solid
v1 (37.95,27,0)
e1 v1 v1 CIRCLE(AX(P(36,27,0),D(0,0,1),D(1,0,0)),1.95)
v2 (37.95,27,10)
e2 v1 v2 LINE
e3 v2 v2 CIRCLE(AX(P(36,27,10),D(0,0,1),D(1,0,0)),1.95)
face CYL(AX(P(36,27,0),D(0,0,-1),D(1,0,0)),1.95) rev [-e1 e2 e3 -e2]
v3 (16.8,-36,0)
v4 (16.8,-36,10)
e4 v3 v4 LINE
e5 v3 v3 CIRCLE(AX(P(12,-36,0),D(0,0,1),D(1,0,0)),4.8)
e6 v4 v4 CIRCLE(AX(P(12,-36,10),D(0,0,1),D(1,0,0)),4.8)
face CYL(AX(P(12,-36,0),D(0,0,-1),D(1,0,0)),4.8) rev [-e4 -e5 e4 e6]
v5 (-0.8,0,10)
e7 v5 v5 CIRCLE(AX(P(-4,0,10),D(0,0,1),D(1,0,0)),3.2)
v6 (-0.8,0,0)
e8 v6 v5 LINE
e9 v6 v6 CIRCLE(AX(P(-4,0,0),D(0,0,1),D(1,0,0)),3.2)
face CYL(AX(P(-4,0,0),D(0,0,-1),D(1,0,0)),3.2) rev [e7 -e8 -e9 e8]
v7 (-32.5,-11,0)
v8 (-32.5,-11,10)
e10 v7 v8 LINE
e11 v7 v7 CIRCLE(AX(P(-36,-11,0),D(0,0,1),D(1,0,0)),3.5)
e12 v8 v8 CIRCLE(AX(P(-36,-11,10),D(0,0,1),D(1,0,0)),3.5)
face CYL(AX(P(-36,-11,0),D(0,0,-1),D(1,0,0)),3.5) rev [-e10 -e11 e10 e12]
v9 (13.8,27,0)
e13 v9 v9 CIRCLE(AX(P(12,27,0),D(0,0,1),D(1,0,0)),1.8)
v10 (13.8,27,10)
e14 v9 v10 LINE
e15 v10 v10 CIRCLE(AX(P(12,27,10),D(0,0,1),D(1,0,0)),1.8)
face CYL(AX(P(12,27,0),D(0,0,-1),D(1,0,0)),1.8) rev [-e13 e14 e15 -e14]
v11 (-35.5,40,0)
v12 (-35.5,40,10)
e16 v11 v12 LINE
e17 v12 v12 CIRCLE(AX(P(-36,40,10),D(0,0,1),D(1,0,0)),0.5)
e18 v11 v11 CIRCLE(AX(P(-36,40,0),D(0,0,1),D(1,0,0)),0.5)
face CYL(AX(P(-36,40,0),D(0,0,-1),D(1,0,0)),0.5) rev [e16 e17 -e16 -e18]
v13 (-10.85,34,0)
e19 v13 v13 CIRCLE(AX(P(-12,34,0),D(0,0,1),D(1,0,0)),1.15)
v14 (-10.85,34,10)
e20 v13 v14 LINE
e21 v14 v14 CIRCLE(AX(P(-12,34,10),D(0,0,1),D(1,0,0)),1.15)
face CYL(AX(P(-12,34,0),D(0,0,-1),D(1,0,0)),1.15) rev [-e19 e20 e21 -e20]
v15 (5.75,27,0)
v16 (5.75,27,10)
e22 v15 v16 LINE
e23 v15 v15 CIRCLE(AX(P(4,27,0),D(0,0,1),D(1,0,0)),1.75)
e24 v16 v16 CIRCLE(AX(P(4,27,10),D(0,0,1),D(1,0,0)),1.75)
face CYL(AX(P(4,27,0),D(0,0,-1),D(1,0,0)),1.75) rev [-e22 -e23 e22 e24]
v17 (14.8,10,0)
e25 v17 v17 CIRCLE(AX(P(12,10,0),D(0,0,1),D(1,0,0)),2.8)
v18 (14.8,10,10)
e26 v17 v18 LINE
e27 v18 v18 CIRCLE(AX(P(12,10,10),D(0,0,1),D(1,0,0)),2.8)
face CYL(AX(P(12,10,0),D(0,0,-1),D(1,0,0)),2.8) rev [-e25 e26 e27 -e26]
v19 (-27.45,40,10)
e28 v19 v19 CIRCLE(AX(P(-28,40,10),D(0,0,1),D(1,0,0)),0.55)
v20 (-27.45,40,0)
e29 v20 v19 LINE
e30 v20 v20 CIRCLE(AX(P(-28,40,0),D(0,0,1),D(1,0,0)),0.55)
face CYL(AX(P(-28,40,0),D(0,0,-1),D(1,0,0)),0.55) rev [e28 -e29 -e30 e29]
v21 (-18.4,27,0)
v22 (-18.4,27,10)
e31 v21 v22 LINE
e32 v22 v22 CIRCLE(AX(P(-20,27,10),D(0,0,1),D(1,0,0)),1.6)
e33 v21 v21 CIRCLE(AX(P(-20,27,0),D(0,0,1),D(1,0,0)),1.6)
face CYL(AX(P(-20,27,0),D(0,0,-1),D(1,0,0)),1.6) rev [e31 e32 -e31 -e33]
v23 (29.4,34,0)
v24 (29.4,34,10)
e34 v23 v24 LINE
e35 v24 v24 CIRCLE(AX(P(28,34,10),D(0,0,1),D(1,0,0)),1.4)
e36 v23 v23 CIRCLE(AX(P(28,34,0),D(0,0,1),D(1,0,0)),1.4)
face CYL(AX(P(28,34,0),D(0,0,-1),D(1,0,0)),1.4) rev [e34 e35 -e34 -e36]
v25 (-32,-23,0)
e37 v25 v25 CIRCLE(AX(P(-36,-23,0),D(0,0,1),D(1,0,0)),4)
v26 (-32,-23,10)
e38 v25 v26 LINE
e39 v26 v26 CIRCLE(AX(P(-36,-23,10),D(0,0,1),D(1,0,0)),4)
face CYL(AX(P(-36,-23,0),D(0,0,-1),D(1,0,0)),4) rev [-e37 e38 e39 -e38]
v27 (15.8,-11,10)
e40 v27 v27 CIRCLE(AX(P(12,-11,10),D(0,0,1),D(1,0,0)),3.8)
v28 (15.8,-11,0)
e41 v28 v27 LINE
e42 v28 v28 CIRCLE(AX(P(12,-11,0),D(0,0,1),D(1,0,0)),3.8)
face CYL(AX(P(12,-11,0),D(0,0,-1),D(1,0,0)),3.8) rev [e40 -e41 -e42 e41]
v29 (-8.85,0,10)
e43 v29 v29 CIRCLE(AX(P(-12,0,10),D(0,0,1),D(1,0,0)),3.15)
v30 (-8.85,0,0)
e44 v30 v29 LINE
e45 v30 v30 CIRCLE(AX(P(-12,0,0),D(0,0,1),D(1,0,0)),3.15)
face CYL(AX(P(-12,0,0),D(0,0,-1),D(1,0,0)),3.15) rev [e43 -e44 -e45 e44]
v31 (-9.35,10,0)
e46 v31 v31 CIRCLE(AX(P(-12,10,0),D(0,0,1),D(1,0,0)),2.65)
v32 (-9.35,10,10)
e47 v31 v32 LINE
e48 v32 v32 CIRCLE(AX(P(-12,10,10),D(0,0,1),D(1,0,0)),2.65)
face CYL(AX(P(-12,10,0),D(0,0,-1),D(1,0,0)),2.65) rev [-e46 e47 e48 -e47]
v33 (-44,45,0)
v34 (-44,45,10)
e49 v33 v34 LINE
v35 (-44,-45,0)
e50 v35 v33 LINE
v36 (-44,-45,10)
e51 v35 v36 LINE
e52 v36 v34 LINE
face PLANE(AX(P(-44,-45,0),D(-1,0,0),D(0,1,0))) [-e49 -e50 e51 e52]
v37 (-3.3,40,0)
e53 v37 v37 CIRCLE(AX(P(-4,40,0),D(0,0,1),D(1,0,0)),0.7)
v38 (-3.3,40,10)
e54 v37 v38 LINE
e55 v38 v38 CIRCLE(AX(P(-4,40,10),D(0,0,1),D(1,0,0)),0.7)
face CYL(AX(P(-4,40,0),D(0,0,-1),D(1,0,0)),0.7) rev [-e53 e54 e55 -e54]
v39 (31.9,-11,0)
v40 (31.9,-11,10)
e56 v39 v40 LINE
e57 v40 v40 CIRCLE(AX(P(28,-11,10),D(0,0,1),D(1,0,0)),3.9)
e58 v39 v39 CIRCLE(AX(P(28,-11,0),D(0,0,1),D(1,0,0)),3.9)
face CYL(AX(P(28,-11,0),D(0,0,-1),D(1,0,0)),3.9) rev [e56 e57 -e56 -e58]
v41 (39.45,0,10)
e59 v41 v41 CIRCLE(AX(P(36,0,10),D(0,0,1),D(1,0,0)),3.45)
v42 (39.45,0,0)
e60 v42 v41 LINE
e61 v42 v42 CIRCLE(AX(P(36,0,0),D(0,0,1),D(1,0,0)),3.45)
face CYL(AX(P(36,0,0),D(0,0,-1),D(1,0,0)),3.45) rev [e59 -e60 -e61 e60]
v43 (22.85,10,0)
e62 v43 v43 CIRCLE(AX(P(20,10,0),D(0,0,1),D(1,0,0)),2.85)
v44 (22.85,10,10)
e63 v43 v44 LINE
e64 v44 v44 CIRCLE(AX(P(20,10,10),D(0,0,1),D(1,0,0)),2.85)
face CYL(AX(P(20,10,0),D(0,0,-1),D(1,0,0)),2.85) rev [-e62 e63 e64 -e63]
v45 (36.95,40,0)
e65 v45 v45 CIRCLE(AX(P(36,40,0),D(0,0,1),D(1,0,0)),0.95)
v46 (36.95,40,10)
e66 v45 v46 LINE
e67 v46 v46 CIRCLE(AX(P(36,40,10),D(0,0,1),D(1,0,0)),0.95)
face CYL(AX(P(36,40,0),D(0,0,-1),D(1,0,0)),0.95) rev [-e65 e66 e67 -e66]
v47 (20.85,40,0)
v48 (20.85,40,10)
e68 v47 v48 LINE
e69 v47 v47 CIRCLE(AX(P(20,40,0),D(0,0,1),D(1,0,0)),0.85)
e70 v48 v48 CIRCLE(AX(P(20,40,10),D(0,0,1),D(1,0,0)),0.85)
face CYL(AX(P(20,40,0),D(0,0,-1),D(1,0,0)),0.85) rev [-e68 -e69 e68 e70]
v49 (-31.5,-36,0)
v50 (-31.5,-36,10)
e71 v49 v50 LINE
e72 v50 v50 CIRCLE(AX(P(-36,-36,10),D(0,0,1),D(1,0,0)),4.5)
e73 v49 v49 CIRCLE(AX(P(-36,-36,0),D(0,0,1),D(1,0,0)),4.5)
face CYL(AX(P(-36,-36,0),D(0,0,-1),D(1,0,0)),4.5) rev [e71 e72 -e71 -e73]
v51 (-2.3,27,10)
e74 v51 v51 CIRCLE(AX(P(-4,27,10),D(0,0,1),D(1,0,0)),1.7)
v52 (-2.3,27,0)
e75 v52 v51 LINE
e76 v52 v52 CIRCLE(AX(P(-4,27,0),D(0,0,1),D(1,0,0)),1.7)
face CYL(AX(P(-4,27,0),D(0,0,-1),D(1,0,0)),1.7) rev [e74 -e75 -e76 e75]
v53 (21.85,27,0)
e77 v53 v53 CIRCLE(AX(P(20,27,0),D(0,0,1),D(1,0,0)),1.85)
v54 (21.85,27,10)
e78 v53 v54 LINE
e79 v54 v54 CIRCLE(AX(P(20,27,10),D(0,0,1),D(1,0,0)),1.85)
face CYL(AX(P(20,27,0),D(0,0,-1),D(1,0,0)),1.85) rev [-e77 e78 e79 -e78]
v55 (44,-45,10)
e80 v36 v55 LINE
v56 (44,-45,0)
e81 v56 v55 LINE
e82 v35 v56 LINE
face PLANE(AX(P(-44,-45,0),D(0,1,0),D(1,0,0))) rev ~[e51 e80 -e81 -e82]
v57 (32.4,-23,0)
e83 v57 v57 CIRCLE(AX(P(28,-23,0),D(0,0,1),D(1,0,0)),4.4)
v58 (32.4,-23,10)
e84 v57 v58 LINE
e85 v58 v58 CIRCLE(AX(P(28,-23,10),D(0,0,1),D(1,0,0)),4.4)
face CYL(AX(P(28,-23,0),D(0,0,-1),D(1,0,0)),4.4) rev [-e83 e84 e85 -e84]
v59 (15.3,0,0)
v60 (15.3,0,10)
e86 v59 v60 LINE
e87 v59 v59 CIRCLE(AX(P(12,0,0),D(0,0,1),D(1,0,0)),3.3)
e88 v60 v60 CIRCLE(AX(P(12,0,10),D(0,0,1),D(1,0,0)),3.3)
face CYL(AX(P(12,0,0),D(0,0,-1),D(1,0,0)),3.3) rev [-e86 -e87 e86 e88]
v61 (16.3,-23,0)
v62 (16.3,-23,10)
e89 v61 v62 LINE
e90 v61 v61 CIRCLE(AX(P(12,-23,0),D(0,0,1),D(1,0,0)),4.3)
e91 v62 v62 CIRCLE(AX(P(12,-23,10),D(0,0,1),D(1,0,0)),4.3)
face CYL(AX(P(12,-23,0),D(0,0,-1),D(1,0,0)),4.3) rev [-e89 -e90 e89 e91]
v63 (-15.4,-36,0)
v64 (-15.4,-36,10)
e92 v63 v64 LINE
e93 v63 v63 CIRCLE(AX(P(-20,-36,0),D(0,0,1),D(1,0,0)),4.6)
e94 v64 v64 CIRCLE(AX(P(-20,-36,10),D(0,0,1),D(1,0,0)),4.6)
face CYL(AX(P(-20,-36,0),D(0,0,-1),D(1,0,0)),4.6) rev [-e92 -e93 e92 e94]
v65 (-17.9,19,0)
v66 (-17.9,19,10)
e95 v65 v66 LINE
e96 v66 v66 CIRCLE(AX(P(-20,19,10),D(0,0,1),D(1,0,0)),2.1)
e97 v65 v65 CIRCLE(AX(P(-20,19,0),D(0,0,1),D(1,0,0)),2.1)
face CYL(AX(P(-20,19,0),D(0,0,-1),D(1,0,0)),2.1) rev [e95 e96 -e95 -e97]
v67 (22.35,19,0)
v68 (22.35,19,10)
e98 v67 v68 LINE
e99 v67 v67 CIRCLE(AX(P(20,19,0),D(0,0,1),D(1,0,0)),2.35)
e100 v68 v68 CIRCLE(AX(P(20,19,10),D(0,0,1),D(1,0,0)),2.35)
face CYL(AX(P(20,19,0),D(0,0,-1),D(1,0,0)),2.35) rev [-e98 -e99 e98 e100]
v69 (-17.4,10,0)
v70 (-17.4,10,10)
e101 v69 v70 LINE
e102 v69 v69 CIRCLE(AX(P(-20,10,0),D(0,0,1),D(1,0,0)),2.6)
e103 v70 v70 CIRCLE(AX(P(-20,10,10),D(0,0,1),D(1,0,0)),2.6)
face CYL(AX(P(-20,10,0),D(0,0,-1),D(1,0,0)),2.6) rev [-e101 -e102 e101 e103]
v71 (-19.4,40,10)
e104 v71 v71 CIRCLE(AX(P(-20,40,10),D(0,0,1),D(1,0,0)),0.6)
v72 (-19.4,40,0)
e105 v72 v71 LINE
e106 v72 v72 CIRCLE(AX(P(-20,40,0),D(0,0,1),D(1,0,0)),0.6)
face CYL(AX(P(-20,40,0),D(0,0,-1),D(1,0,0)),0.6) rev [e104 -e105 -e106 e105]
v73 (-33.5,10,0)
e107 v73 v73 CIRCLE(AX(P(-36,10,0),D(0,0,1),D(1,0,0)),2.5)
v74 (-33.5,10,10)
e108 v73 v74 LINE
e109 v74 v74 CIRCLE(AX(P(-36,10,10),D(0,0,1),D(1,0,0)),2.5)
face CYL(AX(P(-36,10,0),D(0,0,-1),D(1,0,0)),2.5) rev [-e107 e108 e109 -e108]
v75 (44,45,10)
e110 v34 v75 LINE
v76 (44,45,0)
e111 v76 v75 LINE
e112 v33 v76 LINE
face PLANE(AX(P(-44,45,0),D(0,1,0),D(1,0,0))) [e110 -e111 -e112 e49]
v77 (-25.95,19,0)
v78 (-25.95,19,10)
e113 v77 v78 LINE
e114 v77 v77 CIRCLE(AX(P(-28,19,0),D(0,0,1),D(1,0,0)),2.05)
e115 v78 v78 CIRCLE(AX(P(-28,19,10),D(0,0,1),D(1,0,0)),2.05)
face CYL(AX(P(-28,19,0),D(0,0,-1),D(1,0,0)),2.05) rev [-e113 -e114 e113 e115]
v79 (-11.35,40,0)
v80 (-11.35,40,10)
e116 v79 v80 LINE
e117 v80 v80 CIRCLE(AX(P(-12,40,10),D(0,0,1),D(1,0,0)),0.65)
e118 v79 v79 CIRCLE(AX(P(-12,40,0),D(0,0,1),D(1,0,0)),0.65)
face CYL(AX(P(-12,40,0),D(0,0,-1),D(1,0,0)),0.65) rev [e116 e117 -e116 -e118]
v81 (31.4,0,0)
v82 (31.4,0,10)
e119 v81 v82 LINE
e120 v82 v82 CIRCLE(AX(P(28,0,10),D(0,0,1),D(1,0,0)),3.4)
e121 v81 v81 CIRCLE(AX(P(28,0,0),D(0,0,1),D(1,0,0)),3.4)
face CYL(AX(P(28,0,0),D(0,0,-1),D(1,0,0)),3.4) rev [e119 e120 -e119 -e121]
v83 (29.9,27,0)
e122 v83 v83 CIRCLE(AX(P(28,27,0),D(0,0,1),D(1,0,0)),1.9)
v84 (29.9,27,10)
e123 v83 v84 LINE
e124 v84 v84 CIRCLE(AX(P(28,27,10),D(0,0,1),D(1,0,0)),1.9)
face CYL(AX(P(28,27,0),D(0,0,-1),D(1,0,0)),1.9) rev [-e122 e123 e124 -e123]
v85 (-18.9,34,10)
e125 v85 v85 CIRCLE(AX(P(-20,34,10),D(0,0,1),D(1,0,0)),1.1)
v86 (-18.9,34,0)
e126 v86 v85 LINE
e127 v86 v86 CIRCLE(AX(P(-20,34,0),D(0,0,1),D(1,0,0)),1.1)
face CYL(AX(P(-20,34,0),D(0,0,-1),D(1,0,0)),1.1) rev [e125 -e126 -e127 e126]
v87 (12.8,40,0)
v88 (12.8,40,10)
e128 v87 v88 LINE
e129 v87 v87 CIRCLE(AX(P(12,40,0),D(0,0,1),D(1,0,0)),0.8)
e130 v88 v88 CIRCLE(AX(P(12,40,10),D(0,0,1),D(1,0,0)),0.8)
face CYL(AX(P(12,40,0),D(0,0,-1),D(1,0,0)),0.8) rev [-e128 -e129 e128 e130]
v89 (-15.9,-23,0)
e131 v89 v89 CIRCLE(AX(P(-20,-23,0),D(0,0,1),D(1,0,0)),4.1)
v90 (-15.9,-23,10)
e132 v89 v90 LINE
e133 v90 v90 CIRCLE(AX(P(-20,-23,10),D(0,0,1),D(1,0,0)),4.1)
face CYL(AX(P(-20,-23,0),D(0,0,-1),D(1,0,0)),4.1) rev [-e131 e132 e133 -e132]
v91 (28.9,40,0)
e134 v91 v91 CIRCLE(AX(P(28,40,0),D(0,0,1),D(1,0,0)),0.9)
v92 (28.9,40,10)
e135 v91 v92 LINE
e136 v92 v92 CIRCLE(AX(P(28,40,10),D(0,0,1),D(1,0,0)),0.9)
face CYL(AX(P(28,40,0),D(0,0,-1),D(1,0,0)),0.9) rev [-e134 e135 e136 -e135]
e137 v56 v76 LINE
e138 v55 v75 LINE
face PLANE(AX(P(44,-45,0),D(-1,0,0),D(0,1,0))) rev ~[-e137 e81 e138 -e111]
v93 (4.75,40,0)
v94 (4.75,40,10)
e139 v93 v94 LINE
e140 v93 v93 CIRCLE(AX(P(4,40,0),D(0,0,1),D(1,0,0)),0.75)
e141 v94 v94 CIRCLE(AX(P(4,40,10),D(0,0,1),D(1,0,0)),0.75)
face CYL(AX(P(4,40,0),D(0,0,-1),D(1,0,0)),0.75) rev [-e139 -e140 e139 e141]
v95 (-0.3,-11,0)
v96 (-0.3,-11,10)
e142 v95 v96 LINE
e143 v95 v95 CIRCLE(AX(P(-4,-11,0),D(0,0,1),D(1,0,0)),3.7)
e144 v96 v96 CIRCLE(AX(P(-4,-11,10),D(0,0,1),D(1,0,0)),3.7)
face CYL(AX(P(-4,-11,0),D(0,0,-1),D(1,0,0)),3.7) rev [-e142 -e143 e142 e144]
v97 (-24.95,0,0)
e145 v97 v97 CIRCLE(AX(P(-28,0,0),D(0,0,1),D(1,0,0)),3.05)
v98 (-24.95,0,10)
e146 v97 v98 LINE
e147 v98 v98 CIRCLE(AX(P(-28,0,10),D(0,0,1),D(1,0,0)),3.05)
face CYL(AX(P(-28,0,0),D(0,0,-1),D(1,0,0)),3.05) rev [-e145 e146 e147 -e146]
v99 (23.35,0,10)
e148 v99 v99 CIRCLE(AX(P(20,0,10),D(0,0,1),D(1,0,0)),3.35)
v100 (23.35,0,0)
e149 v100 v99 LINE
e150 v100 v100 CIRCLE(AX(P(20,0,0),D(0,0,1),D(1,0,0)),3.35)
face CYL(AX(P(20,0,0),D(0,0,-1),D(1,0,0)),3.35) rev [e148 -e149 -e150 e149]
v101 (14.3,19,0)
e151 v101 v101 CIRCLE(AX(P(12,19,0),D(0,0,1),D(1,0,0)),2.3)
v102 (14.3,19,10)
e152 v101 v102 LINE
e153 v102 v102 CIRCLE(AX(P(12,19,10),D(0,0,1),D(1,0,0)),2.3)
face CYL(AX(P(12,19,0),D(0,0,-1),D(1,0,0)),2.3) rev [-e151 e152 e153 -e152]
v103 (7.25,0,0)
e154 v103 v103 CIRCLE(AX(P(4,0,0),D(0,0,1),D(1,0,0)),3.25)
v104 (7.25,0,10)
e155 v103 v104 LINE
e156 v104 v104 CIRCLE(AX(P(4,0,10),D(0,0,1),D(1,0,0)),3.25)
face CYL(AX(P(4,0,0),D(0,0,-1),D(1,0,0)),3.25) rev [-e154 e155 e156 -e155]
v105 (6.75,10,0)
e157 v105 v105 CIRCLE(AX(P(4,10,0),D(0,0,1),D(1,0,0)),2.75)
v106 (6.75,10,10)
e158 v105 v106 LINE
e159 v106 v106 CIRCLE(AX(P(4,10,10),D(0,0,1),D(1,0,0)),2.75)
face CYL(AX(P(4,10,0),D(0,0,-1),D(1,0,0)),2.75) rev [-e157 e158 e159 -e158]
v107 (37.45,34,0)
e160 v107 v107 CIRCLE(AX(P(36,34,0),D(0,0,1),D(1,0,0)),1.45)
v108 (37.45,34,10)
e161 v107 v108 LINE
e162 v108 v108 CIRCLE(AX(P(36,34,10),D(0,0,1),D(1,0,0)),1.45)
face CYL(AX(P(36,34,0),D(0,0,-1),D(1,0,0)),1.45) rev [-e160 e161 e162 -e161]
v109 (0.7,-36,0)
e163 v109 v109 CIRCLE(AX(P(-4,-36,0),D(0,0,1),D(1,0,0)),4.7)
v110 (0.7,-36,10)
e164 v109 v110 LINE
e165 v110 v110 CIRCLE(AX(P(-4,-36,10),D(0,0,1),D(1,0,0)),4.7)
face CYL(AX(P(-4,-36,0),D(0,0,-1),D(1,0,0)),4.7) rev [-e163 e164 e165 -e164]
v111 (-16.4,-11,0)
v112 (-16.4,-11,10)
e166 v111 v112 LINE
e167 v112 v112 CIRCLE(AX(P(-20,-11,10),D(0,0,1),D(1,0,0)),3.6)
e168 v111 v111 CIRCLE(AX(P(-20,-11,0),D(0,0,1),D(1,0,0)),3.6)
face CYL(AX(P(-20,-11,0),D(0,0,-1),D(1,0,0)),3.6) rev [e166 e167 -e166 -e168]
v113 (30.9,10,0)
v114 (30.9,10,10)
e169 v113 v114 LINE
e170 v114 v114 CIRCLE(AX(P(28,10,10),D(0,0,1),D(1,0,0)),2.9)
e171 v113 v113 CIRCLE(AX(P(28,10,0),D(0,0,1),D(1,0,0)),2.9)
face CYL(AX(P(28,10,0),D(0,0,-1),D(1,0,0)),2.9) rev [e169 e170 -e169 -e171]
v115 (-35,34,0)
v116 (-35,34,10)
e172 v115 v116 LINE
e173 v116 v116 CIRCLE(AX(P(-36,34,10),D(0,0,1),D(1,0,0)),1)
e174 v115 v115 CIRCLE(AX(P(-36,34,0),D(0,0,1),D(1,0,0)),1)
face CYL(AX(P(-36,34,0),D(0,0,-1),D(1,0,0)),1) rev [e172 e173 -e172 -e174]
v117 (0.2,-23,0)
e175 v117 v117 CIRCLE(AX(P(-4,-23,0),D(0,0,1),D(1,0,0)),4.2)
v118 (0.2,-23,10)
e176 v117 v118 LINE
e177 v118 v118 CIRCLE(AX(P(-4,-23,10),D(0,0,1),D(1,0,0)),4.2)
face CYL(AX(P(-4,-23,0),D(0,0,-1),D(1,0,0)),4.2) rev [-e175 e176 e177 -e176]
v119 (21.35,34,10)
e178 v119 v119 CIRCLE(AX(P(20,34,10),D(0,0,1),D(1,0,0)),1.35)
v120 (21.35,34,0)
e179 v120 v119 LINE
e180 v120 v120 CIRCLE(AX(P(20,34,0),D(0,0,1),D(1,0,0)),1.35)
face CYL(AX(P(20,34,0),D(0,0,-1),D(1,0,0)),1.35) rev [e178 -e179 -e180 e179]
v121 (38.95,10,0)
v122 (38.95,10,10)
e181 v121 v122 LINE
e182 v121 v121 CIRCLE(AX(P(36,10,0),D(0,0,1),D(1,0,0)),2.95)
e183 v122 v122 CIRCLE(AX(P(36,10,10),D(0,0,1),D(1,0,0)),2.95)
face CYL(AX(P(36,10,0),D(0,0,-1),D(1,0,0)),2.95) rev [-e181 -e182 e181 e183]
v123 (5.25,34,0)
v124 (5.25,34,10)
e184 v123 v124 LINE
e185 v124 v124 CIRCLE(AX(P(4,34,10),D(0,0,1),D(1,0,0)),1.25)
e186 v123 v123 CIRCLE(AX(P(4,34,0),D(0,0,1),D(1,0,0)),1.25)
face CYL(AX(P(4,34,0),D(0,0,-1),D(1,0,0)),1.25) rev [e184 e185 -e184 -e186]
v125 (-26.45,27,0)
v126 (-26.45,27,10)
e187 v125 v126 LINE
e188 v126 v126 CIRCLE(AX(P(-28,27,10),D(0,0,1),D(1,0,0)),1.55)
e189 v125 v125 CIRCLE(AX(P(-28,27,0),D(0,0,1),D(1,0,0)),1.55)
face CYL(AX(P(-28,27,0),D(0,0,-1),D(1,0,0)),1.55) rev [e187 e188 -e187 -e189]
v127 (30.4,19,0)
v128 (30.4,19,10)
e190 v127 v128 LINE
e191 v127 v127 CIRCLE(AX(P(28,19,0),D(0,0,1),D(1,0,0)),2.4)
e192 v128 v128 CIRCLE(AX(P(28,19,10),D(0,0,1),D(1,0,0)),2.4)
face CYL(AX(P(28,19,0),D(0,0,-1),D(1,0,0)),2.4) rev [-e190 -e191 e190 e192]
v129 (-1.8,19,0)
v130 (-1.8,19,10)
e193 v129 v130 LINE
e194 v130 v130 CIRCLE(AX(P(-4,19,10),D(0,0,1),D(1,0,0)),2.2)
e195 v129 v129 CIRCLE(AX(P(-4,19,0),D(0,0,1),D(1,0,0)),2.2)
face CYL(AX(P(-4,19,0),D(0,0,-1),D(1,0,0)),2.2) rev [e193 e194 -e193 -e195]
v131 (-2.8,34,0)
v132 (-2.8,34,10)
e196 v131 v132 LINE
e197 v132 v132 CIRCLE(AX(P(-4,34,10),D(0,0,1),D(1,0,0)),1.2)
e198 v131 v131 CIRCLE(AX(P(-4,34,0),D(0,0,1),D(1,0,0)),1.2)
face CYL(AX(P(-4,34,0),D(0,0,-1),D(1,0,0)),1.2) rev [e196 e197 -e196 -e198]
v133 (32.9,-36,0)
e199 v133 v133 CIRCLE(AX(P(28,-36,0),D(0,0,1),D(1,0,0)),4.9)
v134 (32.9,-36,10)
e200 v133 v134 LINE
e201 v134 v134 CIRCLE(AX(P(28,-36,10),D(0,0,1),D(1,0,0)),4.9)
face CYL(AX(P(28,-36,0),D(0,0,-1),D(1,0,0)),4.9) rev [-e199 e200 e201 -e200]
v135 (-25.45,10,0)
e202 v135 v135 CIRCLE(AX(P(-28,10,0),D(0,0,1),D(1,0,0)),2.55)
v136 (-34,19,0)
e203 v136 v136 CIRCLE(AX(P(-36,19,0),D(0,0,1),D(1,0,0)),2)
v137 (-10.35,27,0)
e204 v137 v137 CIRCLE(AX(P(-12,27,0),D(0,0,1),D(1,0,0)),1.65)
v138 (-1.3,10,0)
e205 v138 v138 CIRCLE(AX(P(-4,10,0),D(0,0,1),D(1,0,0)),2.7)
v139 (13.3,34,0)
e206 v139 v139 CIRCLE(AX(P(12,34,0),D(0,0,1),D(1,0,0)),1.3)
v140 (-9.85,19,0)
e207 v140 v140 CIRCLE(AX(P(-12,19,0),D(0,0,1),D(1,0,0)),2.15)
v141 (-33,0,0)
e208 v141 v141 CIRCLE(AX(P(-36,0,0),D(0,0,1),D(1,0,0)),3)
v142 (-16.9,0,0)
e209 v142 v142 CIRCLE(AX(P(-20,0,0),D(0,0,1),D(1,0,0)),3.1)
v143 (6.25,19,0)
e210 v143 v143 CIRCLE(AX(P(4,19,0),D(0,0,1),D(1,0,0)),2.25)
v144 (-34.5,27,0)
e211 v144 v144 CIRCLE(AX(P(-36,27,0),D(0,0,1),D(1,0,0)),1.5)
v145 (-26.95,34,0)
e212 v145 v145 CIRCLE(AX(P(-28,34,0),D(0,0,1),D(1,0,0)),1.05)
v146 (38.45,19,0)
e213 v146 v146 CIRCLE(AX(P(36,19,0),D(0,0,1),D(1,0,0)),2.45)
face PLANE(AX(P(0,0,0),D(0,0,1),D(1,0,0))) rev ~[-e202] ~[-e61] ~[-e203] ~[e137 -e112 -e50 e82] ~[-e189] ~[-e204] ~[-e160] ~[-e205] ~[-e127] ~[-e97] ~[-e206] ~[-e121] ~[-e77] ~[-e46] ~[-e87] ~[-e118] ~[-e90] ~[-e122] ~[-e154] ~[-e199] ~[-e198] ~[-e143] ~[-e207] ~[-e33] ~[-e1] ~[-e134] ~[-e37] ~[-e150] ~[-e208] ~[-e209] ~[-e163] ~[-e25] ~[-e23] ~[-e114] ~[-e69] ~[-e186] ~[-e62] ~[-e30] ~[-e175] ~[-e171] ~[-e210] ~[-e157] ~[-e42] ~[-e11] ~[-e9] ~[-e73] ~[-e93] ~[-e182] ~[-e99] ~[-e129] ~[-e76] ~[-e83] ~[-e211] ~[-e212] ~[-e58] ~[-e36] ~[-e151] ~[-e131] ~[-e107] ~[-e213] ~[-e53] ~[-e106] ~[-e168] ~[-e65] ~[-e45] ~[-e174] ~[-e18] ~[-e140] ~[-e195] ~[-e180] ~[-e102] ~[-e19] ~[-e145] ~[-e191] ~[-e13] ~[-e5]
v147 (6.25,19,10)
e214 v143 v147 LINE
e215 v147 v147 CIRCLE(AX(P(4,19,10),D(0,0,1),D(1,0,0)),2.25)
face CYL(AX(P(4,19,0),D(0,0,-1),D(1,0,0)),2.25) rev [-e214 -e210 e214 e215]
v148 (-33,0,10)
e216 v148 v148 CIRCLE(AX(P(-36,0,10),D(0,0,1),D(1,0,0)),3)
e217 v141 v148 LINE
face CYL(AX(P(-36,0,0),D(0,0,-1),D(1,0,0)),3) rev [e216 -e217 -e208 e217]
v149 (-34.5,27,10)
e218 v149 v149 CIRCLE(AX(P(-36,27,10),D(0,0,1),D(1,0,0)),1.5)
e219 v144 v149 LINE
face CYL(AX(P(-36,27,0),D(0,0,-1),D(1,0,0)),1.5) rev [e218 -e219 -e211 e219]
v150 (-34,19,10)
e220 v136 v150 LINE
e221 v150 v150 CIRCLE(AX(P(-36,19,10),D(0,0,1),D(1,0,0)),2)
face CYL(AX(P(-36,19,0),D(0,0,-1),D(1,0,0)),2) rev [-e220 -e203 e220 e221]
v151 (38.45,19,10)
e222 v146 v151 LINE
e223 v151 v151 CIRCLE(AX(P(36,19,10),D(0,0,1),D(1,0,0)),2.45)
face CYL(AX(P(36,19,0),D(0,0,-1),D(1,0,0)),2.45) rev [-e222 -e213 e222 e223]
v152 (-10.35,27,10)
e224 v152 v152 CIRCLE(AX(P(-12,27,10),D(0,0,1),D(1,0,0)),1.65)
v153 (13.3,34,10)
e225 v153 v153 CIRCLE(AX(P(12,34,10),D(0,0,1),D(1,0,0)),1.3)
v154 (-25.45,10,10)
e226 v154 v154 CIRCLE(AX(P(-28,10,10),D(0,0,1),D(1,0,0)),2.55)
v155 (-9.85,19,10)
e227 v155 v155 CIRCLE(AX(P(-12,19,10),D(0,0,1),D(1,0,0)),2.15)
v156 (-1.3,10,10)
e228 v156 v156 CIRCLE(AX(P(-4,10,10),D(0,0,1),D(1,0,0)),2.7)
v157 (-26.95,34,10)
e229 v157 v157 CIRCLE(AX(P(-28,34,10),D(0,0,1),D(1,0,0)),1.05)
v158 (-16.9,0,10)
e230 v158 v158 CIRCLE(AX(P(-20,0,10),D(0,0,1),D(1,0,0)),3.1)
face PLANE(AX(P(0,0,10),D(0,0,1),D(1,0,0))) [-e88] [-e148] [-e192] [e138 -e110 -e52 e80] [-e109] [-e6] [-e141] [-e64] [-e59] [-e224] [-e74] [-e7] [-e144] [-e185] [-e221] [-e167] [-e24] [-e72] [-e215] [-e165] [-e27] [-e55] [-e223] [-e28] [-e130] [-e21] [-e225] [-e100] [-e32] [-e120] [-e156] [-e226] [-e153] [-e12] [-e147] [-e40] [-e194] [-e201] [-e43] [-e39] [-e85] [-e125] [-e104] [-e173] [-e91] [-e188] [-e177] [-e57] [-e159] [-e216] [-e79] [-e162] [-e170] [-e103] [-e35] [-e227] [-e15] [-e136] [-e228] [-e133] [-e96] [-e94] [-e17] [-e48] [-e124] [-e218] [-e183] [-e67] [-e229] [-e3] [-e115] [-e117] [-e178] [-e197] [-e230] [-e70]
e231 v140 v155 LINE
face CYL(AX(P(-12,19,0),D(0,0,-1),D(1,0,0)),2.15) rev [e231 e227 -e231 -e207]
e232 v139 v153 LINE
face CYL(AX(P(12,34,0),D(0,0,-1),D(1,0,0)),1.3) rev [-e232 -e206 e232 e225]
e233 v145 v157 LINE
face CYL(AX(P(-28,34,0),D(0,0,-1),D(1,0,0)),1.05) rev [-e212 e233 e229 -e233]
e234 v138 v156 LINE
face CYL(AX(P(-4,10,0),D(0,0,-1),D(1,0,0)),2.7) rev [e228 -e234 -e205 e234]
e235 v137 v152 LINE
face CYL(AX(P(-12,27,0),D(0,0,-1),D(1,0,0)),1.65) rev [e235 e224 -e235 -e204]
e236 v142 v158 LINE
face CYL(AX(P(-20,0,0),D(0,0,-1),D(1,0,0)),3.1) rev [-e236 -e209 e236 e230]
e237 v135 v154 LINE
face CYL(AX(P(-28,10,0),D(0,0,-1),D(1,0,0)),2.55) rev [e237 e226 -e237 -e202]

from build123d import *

# Parameters (mm, degrees)
F0_W     = 88
F0_H     = 90
F0_R     = 4.5
F0_R_2   = 4
F0_R_3   = 4.6
F0_R_4   = 4.7
F0_R_5   = 4.1
F0_R_6   = 4.2
F0_R_7   = 3.5
F0_R_8   = 3.6
F0_R_9   = 3.7
F0_R_10  = 4.8
F0_R_11  = 4.3
F0_R_12  = 4.9
F0_R_13  = 4.4
F0_R_14  = 3.8
F0_R_15  = 3.9
F0_R_16  = 3
F0_R_17  = 2.5
F0_R_18  = 3.05
F0_R_19  = 2.55
F0_R_20  = 2
F0_R_21  = 2.05
F0_R_22  = 3.1
F0_R_23  = 3.15
F0_R_24  = 2.6
F0_R_25  = 2.65
F0_R_26  = 3.2
F0_R_27  = 2.7
F0_R_28  = 2.1
F0_R_29  = 2.15
F0_R_30  = 2.2
F0_R_31  = 1.5
F0_R_32  = 1.55
F0_R_33  = 1
F0_R_34  = 0.5
F0_R_35  = 1.05
F0_R_36  = 0.55
F0_R_37  = 1.6
F0_R_38  = 1.65
F0_R_39  = 1.7
F0_R_40  = 1.1
F0_R_41  = 1.15
F0_R_42  = 0.6
F0_R_43  = 0.65
F0_R_44  = 1.2
F0_R_45  = 0.7
F0_R_46  = 3.25
F0_R_47  = 2.75
F0_R_48  = 3.3
F0_R_49  = 3.35
F0_R_50  = 2.8
F0_R_51  = 2.85
F0_R_52  = 2.25
F0_R_53  = 2.3
F0_R_54  = 2.35
F0_R_55  = 3.4
F0_R_56  = 2.9
F0_R_57  = 3.45
F0_R_58  = 2.95
F0_R_59  = 2.4
F0_R_60  = 2.45
F0_R_61  = 1.75
F0_R_62  = 1.8
F0_R_63  = 1.85
F0_R_64  = 1.25
F0_R_65  = 0.75
F0_R_66  = 1.3
F0_R_67  = 1.35
F0_R_68  = 0.8
F0_R_69  = 0.85
F0_R_70  = 1.9
F0_R_71  = 1.95
F0_R_72  = 1.4
F0_R_73  = 0.9
F0_R_74  = 1.45
F0_R_75  = 0.95
F1_DEPTH = 10


with BuildPart() as f1:
    # F0 (on Top) → F1 (new body)
    with BuildSketch(Plane.XY):
        Rectangle(F0_W, F0_H)
        with Locations((-36, -36)):
            Circle(F0_R, mode=Mode.SUBTRACT)
        with Locations((-36, -23)):
            Circle(F0_R_2, mode=Mode.SUBTRACT)
        with Locations((-20, -36)):
            Circle(F0_R_3, mode=Mode.SUBTRACT)
        with Locations((-4, -36)):
            Circle(F0_R_4, mode=Mode.SUBTRACT)
        with Locations((-20, -23)):
            Circle(F0_R_5, mode=Mode.SUBTRACT)
        with Locations((-4, -23)):
            Circle(F0_R_6, mode=Mode.SUBTRACT)
        with Locations((-36, -11)):
            Circle(F0_R_7, mode=Mode.SUBTRACT)
        with Locations((-20, -11)):
            Circle(F0_R_8, mode=Mode.SUBTRACT)
        with Locations((-4, -11)):
            Circle(F0_R_9, mode=Mode.SUBTRACT)
        with Locations((12, -36)):
            Circle(F0_R_10, mode=Mode.SUBTRACT)
        with Locations((12, -23)):
            Circle(F0_R_11, mode=Mode.SUBTRACT)
        with Locations((28, -36)):
            Circle(F0_R_12, mode=Mode.SUBTRACT)
        with Locations((28, -23)):
            Circle(F0_R_13, mode=Mode.SUBTRACT)
        with Locations((12, -11)):
            Circle(F0_R_14, mode=Mode.SUBTRACT)
        with Locations((28, -11)):
            Circle(F0_R_15, mode=Mode.SUBTRACT)
        with Locations((-36, 0)):
            Circle(F0_R_16, mode=Mode.SUBTRACT)
        with Locations((-36, 10)):
            Circle(F0_R_17, mode=Mode.SUBTRACT)
        with Locations((-28, 0)):
            Circle(F0_R_18, mode=Mode.SUBTRACT)
        with Locations((-28, 10)):
            Circle(F0_R_19, mode=Mode.SUBTRACT)
        with Locations((-36, 19)):
            Circle(F0_R_20, mode=Mode.SUBTRACT)
        with Locations((-28, 19)):
            Circle(F0_R_21, mode=Mode.SUBTRACT)
        with Locations((-20, 0)):
            Circle(F0_R_22, mode=Mode.SUBTRACT)
        with Locations((-12, 0)):
            Circle(F0_R_23, mode=Mode.SUBTRACT)
        with Locations((-20, 10)):
            Circle(F0_R_24, mode=Mode.SUBTRACT)
        with Locations((-12, 10)):
            Circle(F0_R_25, mode=Mode.SUBTRACT)
        with Locations((-4, 0)):
            Circle(F0_R_26, mode=Mode.SUBTRACT)
        with Locations((-4, 10)):
            Circle(F0_R_27, mode=Mode.SUBTRACT)
        with Locations((-20, 19)):
            Circle(F0_R_28, mode=Mode.SUBTRACT)
        with Locations((-12, 19)):
            Circle(F0_R_29, mode=Mode.SUBTRACT)
        with Locations((-4, 19)):
            Circle(F0_R_30, mode=Mode.SUBTRACT)
        with Locations((-36, 27)):
            Circle(F0_R_31, mode=Mode.SUBTRACT)
        with Locations((-28, 27)):
            Circle(F0_R_32, mode=Mode.SUBTRACT)
        with Locations((-36, 34)):
            Circle(F0_R_33, mode=Mode.SUBTRACT)
        with Locations((-36, 40)):
            Circle(F0_R_34, mode=Mode.SUBTRACT)
        with Locations((-28, 34)):
            Circle(F0_R_35, mode=Mode.SUBTRACT)
        with Locations((-28, 40)):
            Circle(F0_R_36, mode=Mode.SUBTRACT)
        with Locations((-20, 27)):
            Circle(F0_R_37, mode=Mode.SUBTRACT)
        with Locations((-12, 27)):
            Circle(F0_R_38, mode=Mode.SUBTRACT)
        with Locations((-4, 27)):
            Circle(F0_R_39, mode=Mode.SUBTRACT)
        with Locations((-20, 34)):
            Circle(F0_R_40, mode=Mode.SUBTRACT)
        with Locations((-12, 34)):
            Circle(F0_R_41, mode=Mode.SUBTRACT)
        with Locations((-20, 40)):
            Circle(F0_R_42, mode=Mode.SUBTRACT)
        with Locations((-12, 40)):
            Circle(F0_R_43, mode=Mode.SUBTRACT)
        with Locations((-4, 34)):
            Circle(F0_R_44, mode=Mode.SUBTRACT)
        with Locations((-4, 40)):
            Circle(F0_R_45, mode=Mode.SUBTRACT)
        with Locations((4, 0)):
            Circle(F0_R_46, mode=Mode.SUBTRACT)
        with Locations((4, 10)):
            Circle(F0_R_47, mode=Mode.SUBTRACT)
        with Locations((12, 0)):
            Circle(F0_R_48, mode=Mode.SUBTRACT)
        with Locations((20, 0)):
            Circle(F0_R_49, mode=Mode.SUBTRACT)
        with Locations((12, 10)):
            Circle(F0_R_50, mode=Mode.SUBTRACT)
        with Locations((20, 10)):
            Circle(F0_R_51, mode=Mode.SUBTRACT)
        with Locations((4, 19)):
            Circle(F0_R_52, mode=Mode.SUBTRACT)
        with Locations((12, 19)):
            Circle(F0_R_53, mode=Mode.SUBTRACT)
        with Locations((20, 19)):
            Circle(F0_R_54, mode=Mode.SUBTRACT)
        with Locations((28, 0)):
            Circle(F0_R_55, mode=Mode.SUBTRACT)
        with Locations((28, 10)):
            Circle(F0_R_56, mode=Mode.SUBTRACT)
        with Locations((36, 0)):
            Circle(F0_R_57, mode=Mode.SUBTRACT)
        with Locations((36, 10)):
            Circle(F0_R_58, mode=Mode.SUBTRACT)
        with Locations((28, 19)):
            Circle(F0_R_59, mode=Mode.SUBTRACT)
        with Locations((36, 19)):
            Circle(F0_R_60, mode=Mode.SUBTRACT)
        with Locations((4, 27)):
            Circle(F0_R_61, mode=Mode.SUBTRACT)
        with Locations((12, 27)):
            Circle(F0_R_62, mode=Mode.SUBTRACT)
        with Locations((20, 27)):
            Circle(F0_R_63, mode=Mode.SUBTRACT)
        with Locations((4, 34)):
            Circle(F0_R_64, mode=Mode.SUBTRACT)
        with Locations((4, 40)):
            Circle(F0_R_65, mode=Mode.SUBTRACT)
        with Locations((12, 34)):
            Circle(F0_R_66, mode=Mode.SUBTRACT)
        with Locations((20, 34)):
            Circle(F0_R_67, mode=Mode.SUBTRACT)
        with Locations((12, 40)):
            Circle(F0_R_68, mode=Mode.SUBTRACT)
        with Locations((20, 40)):
            Circle(F0_R_69, mode=Mode.SUBTRACT)
        with Locations((28, 27)):
            Circle(F0_R_70, mode=Mode.SUBTRACT)
        with Locations((36, 27)):
            Circle(F0_R_71, mode=Mode.SUBTRACT)
        with Locations((28, 34)):
            Circle(F0_R_72, mode=Mode.SUBTRACT)
        with Locations((28, 40)):
            Circle(F0_R_73, mode=Mode.SUBTRACT)
        with Locations((36, 34)):
            Circle(F0_R_74, mode=Mode.SUBTRACT)
        with Locations((36, 40)):
            Circle(F0_R_75, mode=Mode.SUBTRACT)
    extrude(amount=F1_DEPTH)


solid = f1.part
